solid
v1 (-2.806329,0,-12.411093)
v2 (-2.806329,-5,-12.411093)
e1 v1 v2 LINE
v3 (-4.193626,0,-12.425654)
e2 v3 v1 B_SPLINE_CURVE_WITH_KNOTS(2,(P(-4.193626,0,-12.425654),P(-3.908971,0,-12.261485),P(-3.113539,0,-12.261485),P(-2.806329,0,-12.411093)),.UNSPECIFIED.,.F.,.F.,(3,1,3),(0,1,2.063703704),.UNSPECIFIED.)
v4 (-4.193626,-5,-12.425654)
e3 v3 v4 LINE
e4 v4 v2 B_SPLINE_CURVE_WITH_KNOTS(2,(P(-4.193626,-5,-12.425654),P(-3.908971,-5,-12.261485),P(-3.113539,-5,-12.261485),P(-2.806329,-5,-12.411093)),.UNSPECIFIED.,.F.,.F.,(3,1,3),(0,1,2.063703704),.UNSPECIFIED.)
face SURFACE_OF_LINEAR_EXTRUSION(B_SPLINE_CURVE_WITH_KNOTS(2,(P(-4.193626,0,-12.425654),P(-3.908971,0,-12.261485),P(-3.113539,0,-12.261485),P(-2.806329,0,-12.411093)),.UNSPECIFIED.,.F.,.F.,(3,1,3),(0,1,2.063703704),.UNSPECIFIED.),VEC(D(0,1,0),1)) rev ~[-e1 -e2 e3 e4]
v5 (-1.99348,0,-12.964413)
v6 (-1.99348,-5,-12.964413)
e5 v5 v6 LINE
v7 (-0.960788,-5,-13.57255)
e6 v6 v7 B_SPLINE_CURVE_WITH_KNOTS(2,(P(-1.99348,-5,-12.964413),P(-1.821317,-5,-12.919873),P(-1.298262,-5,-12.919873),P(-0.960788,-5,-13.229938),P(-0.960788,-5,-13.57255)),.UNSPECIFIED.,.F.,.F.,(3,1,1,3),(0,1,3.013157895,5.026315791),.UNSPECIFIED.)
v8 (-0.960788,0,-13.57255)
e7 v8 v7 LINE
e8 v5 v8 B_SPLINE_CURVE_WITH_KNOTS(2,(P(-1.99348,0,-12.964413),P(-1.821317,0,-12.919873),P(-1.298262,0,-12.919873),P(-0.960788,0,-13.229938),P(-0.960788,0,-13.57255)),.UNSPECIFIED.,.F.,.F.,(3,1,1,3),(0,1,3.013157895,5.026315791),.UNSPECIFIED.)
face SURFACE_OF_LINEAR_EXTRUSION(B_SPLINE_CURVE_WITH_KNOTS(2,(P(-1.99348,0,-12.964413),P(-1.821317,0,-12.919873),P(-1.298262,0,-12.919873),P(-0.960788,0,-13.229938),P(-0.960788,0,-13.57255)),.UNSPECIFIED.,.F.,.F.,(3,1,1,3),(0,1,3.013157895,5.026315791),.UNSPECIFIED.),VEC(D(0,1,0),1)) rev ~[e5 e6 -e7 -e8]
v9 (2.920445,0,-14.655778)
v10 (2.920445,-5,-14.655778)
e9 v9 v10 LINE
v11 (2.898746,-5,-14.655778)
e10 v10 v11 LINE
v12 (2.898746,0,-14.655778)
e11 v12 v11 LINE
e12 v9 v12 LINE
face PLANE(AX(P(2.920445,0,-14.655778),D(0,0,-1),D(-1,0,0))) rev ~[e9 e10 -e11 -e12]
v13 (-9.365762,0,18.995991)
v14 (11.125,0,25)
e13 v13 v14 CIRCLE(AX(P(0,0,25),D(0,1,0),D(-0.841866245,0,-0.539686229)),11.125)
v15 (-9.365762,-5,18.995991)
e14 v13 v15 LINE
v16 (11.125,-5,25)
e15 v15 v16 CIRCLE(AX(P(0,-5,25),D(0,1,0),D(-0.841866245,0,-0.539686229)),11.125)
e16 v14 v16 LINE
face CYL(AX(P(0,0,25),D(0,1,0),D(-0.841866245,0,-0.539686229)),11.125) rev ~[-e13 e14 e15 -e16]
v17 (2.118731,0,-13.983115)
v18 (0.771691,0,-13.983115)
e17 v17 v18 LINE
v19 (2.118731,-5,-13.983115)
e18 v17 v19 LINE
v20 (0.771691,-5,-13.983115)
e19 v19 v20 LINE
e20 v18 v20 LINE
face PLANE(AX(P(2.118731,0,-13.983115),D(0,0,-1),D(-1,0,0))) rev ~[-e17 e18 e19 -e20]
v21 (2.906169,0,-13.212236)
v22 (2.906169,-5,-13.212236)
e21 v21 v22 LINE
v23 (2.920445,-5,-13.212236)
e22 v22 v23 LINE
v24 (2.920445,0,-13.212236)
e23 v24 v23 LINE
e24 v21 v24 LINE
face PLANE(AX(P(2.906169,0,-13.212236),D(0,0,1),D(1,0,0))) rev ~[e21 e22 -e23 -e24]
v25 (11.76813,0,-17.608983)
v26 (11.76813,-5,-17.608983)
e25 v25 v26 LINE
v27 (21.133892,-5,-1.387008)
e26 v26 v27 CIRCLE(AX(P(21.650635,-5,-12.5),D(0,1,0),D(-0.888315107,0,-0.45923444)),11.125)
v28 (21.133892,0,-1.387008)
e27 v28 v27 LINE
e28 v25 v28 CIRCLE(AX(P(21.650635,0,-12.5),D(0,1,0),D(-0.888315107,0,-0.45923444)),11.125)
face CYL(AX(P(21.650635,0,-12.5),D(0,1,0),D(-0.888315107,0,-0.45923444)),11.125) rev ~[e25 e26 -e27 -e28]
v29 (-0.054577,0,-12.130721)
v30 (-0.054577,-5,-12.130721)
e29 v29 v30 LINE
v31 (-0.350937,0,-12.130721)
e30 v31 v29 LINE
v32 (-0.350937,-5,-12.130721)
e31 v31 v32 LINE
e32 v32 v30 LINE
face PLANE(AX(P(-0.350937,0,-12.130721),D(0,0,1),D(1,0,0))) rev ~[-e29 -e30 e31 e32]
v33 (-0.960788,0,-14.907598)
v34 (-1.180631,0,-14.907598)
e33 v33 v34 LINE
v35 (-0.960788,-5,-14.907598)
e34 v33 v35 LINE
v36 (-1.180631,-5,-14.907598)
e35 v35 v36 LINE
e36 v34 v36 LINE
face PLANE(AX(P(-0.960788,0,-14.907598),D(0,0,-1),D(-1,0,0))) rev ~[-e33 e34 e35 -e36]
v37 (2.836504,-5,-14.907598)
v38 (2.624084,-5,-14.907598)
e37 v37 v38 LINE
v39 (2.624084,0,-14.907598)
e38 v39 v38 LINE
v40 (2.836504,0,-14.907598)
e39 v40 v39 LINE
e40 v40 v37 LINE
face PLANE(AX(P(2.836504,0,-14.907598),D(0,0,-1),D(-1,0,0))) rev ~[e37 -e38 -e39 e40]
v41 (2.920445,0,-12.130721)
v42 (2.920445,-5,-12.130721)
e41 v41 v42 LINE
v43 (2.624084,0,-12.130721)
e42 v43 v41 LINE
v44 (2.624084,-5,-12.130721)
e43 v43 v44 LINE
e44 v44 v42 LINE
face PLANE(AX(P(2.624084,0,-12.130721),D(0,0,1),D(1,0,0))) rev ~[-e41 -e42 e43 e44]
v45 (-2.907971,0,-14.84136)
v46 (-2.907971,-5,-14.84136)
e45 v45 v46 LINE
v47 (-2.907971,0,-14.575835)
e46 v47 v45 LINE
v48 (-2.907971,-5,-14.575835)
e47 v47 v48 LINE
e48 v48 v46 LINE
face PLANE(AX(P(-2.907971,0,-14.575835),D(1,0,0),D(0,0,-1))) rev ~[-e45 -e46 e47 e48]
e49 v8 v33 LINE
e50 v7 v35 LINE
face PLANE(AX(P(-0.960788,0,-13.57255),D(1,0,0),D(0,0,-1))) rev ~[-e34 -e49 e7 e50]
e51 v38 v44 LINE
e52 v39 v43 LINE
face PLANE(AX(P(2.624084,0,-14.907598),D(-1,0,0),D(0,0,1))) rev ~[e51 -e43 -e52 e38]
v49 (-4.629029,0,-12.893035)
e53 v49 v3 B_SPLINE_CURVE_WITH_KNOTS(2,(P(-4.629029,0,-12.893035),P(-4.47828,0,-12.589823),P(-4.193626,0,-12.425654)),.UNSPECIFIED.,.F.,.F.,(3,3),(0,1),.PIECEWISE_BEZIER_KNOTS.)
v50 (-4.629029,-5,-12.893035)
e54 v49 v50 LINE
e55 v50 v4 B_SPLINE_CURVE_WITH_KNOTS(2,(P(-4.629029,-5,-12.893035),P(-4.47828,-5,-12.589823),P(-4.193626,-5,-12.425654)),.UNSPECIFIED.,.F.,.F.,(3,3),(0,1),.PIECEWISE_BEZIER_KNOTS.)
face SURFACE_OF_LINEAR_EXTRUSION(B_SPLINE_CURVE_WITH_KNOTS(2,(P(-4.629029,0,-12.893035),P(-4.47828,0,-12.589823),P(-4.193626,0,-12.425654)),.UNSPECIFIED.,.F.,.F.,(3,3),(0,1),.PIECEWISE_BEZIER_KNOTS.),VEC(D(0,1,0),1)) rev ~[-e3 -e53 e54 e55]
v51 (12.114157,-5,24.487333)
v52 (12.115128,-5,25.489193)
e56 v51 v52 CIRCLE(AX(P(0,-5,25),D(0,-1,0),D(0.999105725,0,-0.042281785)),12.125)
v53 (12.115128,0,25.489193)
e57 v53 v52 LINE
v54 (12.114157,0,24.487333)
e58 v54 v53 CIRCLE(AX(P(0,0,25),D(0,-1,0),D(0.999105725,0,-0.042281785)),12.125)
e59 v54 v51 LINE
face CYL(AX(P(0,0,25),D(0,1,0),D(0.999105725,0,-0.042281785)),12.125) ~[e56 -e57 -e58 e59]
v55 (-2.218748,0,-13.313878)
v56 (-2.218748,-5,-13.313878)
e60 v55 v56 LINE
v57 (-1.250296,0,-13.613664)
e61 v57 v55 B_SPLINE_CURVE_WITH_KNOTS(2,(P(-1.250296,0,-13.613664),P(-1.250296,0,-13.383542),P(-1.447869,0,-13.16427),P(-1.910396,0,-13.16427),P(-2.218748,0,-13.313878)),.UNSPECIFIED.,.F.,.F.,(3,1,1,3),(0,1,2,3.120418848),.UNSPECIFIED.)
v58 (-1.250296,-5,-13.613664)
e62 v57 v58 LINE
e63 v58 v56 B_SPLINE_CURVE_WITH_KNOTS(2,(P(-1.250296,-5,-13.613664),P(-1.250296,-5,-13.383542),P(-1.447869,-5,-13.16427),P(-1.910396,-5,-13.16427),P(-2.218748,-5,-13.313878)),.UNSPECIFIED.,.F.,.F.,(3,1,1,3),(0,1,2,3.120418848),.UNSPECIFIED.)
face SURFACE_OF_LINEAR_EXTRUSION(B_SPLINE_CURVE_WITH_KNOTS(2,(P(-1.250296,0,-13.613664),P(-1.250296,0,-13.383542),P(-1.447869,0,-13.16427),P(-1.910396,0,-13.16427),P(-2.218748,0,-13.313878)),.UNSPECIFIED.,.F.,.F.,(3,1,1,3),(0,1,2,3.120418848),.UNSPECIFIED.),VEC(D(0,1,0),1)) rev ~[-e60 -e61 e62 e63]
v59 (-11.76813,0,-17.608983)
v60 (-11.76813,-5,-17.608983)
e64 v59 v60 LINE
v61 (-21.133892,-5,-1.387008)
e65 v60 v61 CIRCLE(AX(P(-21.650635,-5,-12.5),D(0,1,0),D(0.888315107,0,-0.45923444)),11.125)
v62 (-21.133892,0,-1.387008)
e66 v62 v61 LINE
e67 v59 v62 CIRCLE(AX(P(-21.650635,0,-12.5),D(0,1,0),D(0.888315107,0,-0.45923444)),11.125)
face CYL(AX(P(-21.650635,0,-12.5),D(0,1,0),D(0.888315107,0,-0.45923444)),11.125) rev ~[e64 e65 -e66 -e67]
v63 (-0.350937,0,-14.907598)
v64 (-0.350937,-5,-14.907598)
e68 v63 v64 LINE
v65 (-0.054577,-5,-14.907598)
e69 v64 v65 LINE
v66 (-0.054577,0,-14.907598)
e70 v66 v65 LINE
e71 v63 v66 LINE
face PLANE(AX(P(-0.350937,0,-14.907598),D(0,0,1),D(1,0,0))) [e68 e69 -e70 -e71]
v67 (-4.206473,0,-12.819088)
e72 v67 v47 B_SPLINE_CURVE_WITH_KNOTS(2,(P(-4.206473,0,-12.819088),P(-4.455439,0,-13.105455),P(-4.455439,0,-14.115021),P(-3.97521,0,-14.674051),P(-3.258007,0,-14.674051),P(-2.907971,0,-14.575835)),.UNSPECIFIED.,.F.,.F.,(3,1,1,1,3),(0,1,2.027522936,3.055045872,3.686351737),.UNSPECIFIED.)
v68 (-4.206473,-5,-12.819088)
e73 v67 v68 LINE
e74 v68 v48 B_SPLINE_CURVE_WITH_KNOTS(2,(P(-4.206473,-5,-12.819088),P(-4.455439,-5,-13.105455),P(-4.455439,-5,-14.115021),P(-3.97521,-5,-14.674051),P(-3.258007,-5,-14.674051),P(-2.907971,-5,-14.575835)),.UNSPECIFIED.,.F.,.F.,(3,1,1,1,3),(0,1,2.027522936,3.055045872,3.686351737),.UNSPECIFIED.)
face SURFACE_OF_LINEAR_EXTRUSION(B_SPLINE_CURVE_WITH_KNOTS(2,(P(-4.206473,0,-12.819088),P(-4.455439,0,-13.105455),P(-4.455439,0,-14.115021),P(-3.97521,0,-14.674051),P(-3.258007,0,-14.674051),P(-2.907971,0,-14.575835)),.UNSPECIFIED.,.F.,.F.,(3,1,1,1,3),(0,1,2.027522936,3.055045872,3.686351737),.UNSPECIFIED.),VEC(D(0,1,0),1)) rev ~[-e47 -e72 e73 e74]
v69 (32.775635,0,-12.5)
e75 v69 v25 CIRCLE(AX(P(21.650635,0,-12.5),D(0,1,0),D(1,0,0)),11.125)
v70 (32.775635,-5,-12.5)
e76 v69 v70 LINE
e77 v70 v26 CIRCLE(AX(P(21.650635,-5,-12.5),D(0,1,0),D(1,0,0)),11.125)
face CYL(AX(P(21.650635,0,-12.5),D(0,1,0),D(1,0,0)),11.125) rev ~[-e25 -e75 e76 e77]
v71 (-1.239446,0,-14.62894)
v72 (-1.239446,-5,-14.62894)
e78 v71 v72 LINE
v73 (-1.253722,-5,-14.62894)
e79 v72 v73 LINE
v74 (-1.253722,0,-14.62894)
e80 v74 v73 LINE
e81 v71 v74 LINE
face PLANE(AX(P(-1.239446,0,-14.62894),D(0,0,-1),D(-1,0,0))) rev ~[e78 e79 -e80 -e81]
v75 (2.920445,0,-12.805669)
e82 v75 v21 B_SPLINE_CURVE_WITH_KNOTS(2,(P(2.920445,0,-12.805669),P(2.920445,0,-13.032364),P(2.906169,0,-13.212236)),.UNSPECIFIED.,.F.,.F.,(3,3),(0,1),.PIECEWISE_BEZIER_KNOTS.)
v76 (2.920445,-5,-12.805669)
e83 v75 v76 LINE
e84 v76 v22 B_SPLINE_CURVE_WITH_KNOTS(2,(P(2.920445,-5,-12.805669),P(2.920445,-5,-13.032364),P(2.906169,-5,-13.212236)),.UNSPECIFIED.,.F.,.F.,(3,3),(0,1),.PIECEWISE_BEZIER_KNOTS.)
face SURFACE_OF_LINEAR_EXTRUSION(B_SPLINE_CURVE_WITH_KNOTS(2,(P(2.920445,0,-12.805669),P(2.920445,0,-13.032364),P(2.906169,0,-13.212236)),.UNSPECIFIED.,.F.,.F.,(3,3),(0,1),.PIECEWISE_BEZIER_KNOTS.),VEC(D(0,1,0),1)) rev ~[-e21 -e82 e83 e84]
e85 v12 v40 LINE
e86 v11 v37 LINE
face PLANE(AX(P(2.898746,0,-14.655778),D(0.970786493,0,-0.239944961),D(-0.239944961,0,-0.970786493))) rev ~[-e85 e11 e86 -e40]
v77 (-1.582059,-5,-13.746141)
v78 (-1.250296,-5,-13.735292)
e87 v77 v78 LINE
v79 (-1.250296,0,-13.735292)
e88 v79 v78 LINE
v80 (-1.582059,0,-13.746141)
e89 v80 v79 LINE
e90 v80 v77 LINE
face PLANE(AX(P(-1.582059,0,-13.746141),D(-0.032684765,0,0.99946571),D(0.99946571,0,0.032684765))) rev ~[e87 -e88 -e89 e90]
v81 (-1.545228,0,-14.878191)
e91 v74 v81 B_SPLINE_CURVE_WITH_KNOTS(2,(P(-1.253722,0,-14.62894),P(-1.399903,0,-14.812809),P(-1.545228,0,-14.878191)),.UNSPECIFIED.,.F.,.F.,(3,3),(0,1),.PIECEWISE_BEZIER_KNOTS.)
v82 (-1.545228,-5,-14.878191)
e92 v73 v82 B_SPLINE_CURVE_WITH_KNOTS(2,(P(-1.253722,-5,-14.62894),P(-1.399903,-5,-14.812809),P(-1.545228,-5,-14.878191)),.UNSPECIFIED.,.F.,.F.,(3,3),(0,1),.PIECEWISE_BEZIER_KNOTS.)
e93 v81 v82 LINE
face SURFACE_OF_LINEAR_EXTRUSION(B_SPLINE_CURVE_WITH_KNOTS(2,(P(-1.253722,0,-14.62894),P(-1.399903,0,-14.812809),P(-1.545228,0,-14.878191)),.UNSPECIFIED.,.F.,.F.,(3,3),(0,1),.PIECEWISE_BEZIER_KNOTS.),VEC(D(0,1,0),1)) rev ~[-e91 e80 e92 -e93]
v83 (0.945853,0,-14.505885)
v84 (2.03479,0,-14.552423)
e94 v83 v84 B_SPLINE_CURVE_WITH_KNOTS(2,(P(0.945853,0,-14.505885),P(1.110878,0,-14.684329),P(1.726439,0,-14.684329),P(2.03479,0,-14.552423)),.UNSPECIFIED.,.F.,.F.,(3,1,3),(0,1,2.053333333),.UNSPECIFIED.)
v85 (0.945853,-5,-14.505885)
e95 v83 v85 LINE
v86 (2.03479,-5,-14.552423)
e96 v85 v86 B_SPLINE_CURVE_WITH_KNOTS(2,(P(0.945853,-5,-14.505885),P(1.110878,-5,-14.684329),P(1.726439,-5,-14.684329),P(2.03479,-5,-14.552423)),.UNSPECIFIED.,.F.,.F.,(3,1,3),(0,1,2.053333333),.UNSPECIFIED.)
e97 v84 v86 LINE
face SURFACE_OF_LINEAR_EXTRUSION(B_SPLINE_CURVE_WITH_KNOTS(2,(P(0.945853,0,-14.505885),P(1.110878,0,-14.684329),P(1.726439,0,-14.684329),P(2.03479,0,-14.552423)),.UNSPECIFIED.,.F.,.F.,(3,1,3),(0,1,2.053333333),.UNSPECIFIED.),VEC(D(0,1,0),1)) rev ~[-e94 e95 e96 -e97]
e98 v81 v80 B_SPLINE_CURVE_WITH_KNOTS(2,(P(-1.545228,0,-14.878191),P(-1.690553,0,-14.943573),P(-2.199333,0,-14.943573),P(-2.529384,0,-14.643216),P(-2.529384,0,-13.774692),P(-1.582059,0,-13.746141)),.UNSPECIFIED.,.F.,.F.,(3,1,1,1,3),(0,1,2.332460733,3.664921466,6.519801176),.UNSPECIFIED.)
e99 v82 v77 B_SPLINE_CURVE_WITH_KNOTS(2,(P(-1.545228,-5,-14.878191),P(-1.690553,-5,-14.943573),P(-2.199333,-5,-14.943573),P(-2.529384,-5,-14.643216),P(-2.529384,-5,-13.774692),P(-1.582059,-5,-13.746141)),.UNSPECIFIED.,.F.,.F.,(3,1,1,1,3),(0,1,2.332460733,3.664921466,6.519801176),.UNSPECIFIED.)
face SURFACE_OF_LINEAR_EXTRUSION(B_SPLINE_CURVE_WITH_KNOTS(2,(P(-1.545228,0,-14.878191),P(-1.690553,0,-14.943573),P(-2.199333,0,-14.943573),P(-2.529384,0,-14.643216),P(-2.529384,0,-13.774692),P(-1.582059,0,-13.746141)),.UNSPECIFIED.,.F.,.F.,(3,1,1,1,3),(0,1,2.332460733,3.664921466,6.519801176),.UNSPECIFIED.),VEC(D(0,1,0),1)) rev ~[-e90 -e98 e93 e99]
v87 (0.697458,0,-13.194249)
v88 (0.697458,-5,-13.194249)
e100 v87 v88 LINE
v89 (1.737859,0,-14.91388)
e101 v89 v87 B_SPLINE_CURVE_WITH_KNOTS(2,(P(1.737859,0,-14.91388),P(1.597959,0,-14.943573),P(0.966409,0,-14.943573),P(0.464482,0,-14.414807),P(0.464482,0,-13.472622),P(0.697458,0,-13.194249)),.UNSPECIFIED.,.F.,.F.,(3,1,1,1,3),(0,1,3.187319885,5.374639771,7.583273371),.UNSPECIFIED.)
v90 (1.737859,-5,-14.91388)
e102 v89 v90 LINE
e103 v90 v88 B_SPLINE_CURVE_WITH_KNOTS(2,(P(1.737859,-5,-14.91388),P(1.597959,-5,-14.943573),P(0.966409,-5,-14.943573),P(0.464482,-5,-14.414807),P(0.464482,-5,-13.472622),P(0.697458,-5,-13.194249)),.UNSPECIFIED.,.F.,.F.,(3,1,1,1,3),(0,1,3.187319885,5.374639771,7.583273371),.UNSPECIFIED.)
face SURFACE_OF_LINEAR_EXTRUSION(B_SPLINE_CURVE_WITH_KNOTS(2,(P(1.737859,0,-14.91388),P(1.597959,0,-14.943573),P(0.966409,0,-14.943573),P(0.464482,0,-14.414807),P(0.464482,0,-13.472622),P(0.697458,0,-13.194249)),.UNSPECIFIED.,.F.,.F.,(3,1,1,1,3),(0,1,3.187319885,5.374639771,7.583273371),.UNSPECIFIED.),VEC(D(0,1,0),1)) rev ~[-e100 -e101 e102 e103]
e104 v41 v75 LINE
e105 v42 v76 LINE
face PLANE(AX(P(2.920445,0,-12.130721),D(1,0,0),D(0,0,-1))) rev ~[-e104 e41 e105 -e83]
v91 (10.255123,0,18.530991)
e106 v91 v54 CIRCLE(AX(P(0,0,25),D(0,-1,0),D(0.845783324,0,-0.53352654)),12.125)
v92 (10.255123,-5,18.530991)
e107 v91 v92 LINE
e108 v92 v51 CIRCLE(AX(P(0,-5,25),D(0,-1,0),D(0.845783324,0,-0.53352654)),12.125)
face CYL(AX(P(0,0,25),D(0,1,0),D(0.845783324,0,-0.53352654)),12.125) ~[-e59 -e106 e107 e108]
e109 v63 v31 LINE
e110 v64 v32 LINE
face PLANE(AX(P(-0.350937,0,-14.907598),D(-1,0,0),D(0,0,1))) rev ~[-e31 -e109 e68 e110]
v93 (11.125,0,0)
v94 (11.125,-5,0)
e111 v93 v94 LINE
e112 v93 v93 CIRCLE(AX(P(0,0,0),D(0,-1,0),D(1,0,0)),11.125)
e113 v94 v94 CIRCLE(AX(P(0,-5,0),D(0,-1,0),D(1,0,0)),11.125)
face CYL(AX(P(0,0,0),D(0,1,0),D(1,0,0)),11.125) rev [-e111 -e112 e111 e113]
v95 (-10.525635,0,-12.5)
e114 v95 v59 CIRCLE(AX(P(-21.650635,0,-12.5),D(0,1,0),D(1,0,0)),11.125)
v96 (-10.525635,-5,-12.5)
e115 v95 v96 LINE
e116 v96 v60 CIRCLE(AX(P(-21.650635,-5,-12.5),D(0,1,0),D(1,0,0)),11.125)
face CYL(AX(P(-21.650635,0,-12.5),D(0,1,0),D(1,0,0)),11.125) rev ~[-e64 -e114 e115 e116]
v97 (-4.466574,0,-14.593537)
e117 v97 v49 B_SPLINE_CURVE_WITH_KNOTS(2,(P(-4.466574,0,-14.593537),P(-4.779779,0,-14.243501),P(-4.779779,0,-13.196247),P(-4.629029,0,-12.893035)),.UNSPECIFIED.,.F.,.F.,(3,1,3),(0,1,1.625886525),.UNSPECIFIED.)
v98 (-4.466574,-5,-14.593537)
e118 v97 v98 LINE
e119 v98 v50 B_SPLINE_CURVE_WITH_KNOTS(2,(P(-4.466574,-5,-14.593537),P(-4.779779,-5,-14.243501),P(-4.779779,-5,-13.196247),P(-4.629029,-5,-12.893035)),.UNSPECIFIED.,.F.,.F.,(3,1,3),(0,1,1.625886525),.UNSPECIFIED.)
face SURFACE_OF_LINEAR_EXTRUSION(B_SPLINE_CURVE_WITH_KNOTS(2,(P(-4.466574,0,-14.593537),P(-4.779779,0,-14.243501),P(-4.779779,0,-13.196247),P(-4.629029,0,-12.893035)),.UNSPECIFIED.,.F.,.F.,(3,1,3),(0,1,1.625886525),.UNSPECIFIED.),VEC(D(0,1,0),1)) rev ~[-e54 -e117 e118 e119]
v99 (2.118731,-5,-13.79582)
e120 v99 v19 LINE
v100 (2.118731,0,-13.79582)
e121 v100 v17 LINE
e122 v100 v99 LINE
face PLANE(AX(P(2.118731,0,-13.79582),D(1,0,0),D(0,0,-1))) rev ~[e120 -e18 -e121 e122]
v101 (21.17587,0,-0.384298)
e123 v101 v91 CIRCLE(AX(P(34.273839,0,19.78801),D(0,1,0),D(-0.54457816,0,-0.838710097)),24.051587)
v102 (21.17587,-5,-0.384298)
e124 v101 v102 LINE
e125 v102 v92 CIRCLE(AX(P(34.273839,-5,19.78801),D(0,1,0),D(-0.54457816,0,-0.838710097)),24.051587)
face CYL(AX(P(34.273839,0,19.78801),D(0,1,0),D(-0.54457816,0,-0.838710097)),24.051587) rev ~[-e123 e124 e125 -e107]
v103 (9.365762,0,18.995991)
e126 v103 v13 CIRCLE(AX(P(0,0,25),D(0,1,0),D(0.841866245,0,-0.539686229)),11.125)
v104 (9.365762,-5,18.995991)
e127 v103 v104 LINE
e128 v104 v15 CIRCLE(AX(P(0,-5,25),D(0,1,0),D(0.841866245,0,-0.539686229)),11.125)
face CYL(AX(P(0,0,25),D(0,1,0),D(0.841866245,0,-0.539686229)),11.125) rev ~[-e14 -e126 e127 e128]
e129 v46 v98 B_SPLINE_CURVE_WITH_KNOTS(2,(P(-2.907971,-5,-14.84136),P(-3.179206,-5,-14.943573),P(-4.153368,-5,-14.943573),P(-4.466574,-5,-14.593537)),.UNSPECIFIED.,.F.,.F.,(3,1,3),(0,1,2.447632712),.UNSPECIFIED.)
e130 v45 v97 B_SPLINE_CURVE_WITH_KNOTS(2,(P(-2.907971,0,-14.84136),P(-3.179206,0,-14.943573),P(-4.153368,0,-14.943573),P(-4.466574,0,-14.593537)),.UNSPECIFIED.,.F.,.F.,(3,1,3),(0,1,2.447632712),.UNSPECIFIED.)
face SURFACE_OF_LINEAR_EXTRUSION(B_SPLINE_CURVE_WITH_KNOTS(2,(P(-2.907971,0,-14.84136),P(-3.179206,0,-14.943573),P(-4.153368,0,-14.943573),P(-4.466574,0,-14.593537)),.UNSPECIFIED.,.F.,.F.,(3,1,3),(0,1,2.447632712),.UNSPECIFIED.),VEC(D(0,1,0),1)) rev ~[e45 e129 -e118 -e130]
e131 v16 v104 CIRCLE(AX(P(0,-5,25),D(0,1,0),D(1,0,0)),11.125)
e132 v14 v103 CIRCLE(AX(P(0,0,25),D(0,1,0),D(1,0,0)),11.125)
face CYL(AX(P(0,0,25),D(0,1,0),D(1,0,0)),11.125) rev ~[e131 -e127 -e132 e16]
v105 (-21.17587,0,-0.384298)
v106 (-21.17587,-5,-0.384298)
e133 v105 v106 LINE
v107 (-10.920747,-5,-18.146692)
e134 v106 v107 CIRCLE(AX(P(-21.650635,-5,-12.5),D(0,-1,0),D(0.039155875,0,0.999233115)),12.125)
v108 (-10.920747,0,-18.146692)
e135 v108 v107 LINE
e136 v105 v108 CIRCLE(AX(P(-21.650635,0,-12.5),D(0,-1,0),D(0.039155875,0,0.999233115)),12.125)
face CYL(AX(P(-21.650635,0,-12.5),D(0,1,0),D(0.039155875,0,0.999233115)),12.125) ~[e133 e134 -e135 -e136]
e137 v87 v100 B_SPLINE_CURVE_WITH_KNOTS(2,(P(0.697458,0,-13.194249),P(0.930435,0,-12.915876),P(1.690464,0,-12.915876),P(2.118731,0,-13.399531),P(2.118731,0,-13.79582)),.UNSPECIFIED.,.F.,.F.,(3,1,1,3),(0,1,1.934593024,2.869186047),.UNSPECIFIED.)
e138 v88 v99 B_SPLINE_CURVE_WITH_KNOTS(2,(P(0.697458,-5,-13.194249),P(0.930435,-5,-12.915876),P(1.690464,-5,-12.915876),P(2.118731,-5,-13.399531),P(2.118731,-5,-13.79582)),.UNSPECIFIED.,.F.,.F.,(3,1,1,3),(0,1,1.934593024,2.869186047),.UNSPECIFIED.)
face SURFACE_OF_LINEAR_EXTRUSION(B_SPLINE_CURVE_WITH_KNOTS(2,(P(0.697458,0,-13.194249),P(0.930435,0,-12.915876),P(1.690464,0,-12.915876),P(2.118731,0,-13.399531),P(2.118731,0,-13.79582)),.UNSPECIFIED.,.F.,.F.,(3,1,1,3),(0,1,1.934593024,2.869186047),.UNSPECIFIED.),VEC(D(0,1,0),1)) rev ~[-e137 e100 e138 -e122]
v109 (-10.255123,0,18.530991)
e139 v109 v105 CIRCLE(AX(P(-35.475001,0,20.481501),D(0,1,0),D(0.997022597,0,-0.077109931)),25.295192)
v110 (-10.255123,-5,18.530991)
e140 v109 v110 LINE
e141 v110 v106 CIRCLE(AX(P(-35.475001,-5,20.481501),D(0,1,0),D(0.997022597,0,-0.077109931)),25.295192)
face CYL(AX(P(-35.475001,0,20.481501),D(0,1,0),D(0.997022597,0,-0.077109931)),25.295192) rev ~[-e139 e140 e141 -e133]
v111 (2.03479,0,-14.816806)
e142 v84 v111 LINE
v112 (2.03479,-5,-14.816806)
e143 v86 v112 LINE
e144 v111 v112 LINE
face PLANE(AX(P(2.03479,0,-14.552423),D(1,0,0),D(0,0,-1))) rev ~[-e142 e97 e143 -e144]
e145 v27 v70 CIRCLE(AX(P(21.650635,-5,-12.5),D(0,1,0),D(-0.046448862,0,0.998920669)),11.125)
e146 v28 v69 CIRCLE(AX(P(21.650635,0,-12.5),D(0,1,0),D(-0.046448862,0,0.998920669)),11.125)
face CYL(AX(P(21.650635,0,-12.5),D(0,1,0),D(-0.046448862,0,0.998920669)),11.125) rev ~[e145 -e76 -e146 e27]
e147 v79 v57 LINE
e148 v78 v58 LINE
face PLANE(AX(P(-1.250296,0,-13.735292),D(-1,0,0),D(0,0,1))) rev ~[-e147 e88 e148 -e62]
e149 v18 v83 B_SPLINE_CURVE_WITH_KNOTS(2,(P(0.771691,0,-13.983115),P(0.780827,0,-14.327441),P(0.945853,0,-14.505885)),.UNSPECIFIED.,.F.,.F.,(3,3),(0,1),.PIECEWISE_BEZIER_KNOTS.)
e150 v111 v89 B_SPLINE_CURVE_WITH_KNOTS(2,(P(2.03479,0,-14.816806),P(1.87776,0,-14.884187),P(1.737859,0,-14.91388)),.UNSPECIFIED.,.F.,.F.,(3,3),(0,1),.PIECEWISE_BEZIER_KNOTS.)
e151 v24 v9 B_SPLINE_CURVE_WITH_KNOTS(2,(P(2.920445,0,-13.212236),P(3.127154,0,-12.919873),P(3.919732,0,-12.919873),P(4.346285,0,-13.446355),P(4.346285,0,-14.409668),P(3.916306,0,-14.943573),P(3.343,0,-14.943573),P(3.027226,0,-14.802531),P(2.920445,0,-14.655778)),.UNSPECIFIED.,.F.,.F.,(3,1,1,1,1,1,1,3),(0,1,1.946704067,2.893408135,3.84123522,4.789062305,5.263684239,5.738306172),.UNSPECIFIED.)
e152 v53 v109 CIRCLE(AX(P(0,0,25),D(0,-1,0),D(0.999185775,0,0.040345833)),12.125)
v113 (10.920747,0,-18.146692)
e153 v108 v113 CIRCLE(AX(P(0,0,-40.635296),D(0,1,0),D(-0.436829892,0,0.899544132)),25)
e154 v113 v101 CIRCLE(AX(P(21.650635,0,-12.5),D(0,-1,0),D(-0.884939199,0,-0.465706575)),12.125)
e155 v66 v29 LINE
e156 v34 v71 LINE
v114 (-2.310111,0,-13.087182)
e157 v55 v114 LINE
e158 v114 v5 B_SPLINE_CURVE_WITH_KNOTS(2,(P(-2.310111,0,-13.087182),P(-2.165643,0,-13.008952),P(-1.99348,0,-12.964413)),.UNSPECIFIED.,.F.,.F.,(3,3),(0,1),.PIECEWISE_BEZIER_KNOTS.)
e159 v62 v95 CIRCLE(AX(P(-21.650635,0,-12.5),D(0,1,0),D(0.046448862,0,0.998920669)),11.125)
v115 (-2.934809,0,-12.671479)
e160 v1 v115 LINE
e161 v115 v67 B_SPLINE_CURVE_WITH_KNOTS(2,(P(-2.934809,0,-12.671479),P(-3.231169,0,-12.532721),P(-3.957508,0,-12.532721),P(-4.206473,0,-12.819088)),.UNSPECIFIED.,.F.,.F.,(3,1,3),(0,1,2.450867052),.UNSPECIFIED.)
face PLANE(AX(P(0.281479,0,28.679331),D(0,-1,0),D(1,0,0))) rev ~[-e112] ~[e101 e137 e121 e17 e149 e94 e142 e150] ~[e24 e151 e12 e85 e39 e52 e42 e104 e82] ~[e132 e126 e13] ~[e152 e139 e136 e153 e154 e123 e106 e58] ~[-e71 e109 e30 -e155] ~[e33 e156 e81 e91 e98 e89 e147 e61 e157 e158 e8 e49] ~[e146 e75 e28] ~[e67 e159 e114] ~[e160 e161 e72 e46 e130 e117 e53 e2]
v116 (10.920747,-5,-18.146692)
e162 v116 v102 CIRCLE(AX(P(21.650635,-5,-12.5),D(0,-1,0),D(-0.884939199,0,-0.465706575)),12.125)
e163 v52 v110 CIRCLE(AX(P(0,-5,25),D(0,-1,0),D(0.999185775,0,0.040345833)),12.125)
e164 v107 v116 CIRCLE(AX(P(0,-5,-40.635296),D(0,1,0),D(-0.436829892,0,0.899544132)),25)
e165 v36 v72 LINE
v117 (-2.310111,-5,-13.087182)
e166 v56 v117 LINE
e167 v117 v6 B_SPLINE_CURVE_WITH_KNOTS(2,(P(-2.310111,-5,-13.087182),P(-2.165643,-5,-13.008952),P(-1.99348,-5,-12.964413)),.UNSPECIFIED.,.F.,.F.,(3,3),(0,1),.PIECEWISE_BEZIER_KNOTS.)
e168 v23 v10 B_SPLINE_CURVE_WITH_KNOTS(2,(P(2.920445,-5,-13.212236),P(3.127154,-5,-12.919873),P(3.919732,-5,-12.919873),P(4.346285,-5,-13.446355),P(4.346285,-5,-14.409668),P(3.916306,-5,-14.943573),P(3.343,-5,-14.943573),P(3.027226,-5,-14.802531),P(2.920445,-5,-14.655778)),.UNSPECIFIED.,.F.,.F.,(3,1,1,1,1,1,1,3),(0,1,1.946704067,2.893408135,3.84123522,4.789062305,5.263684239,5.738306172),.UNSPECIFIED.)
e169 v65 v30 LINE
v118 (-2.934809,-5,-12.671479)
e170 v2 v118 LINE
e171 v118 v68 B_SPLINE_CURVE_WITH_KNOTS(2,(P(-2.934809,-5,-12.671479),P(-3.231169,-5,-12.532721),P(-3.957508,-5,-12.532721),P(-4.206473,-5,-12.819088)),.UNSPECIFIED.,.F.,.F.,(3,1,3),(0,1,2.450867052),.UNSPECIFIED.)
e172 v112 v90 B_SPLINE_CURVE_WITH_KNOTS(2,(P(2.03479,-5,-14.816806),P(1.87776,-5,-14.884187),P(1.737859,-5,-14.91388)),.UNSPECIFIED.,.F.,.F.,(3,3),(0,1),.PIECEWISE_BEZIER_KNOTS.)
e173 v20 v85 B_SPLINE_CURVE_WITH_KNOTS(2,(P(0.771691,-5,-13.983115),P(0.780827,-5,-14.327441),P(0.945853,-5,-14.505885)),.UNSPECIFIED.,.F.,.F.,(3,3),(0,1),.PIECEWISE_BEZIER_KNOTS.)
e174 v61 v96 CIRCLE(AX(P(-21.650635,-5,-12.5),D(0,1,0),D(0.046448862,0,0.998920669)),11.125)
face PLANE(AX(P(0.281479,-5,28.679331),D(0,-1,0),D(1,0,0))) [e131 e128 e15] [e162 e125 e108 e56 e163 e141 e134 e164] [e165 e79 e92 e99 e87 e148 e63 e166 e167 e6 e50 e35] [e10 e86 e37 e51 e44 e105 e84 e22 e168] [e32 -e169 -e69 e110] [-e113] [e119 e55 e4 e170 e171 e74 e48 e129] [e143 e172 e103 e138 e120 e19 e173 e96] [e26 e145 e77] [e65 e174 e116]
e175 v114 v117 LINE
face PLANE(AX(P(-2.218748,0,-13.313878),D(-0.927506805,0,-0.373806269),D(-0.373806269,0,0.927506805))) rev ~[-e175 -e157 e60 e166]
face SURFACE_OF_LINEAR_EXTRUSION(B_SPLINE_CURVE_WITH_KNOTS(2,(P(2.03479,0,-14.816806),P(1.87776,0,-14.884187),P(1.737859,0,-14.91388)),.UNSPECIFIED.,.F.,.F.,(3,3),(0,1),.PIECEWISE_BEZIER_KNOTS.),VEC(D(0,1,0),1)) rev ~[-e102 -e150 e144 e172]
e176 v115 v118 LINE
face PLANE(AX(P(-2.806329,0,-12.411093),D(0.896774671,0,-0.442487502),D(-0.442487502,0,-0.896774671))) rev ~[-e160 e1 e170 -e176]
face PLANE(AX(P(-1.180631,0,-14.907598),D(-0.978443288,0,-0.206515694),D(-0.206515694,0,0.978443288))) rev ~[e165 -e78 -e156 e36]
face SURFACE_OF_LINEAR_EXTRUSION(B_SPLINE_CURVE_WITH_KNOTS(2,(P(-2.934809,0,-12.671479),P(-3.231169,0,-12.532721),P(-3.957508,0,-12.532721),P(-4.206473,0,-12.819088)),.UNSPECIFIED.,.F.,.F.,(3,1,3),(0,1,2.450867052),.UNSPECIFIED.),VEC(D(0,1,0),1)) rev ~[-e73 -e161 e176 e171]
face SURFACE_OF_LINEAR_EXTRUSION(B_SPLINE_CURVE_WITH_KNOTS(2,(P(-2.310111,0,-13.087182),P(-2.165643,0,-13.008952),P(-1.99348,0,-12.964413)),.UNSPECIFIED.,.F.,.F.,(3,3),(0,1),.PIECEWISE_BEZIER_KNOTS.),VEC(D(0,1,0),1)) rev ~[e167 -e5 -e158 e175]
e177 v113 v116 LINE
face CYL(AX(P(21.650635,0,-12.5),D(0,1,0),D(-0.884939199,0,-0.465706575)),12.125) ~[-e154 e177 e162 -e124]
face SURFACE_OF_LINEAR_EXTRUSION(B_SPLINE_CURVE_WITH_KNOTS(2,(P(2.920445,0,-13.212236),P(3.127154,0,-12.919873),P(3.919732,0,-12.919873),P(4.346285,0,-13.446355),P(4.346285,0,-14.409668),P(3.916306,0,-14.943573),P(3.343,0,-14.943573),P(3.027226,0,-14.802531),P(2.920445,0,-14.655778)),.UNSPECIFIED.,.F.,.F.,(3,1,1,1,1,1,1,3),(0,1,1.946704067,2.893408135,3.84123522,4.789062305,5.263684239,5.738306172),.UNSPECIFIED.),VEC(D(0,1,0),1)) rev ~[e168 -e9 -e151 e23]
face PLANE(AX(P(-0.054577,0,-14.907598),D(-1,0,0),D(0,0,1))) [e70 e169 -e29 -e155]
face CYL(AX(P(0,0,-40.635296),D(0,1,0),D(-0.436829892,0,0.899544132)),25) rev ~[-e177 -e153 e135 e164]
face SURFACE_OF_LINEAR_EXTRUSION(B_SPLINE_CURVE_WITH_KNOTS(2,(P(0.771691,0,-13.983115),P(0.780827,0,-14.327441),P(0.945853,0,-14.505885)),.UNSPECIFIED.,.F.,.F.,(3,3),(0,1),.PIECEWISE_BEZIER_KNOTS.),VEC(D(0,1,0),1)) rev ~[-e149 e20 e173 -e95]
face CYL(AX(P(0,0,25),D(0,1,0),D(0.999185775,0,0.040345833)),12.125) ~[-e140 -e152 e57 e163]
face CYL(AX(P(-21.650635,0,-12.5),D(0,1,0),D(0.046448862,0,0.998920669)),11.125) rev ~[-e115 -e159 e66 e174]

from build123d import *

# Parameters (mm, degrees)
F0_W     = 0.2963601055
F0_H     = 2.7768770578
F0_R     = 11.125
F1_DEPTH = 5


with BuildPart() as f1:
    # F0 (on Front) → F1 (new body)
    with BuildSketch(Plane.XZ):
        with BuildLine():
            ThreePointArc((-9.3657619737, 18.9959907018), (-3.1282201843, 35.6761352314), (11.125, 25))
            ThreePointArc((11.125, 25), (10.6761352314, 21.8717798157), (9.3657619737, 18.9959907018))
            ThreePointArc((9.3657619737, 18.9959907018), (9.8131970378, 18.7687592554), (10.2551228028, 18.5309907018))
            ThreePointArc((10.2551228028, 18.5309907018), (11.5743541209, 21.3875283137), (12.1141569215, 24.4873333616))
            ThreePointArc((12.1141569215, 24.4873333616), (12.1112920003, 24.9882665385), (12.1151275268, 25.4891932239))
            ThreePointArc((12.1151275268, 25.4891932239), (-3.6012567221, 36.5778484626), (-10.2551228028, 18.5309907018))
            ThreePointArc((-10.2551228028, 18.5309907018), (-9.8131970378, 18.7687592554), (-9.3657619737, 18.9959907018))
        make_face()
        with BuildLine():
            ThreePointArc((9.3657619737, 18.9959907018), (0, 13.875), (-9.3657619737, 18.9959907018))
            ThreePointArc((-9.3657619737, 18.9959907018), (-9.8131970378, 18.7687592554), (-10.2551228028, 18.5309907018))
            ThreePointArc((-10.2551228028, 18.5309907018), (-13.5687219352, 7.8339052618), (-21.1758701064, -0.3842984848))
            ThreePointArc((-21.1758701064, -0.3842984848), (-21.1608208316, -0.8859017006), (-21.1338915046, -1.3870075559))
            ThreePointArc((-21.1338915046, -1.3870075559), (-13.6034493307, -4.8183057676), (-10.5256350946, -12.5))
            ThreePointArc((-10.5256350946, -12.5), (-10.8407206779, -15.1289494674), (-11.768129531, -17.6089831459))
            ThreePointArc((-11.768129531, -17.6089831459), (-11.3476237938, -17.8828575548), (-10.9207473037, -18.146692217))
            ThreePointArc((-10.9207473037, -18.146692217), (0, -15.6352955158), (10.9207473037, -18.146692217))
            ThreePointArc((10.9207473037, -18.146692217), (11.3476237938, -17.8828575548), (11.768129531, -17.6089831459))
            ThreePointArc((11.768129531, -17.6089831459), (12.0161024775, -6.9375), (21.1338915046, -1.3870075559))
            ThreePointArc((21.1338915046, -1.3870075559), (21.1608208316, -0.8859017006), (21.1758701064, -0.3842984848))
            ThreePointArc((21.1758701064, -0.3842984848), (13.4445538567, 7.7622167883), (10.2551228028, 18.5309907018))
            ThreePointArc((10.2551228028, 18.5309907018), (9.8131970378, 18.7687592554), (9.3657619737, 18.9959907018))
        make_face()
        with BuildLine():
            add(Edge.make_bspline(
                [(-2.9348088368, -12.6714787014), (-3.2311689423, -12.5327205017), (-3.5275290478, -12.5327205017)],
                knots=[0, 0, 0, 1, 1, 1], degree=2))
            add(Edge.make_bspline(
                [(-3.5275290478, -12.5327205017), (-3.9575081604, -12.5327205017), (-4.2064734898, -12.8190877328)],
                knots=[0, 0, 0, 1, 1, 1], degree=2))
            add(Edge.make_bspline(
                [(-4.2064734898, -12.8190877328), (-4.4554388193, -13.1054549638), (-4.4554388193, -13.6033856227)],
                knots=[0, 0, 0, 1, 1, 1], degree=2))
            add(Edge.make_bspline(
                [(-4.4554388193, -13.6033856227), (-4.4554388193, -14.1150207952), (-4.2153243215, -14.3945357695)],
                knots=[0, 0, 0, 1, 1, 1], degree=2))
            add(Edge.make_bspline(
                [(-4.2153243215, -14.3945357695), (-3.9752098237, -14.6740507438), (-3.5309551762, -14.6740507438)],
                knots=[0, 0, 0, 1, 1, 1], degree=2))
            add(Edge.make_bspline(
                [(-3.5309551762, -14.6740507438), (-3.258006948, -14.6740507438), (-2.9079708311, -14.5758350633)],
                knots=[0, 0, 0, 1, 1, 1], degree=2))
            Line((-2.9079708311, -14.5758350633), (-2.9079708311, -14.8413600133))
            add(Edge.make_bspline(
                [(-2.9079708311, -14.8413600133), (-3.1792059951, -14.9435728435), (-3.5772079094, -14.9435728435)],
                knots=[0, 0, 0, 1, 1, 1], degree=2))
            add(Edge.make_bspline(
                [(-3.5772079094, -14.9435728435), (-4.1533684998, -14.9435728435), (-4.4665737366, -14.5935367267)],
                knots=[0, 0, 0, 1, 1, 1], degree=2))
            add(Edge.make_bspline(
                [(-4.4665737366, -14.5935367267), (-4.7797789733, -14.2435006098), (-4.7797789733, -13.599388473)],
                knots=[0, 0, 0, 1, 1, 1], degree=2))
            add(Edge.make_bspline(
                [(-4.7797789733, -13.599388473), (-4.7797789733, -13.1962473661), (-4.6290293243, -12.8930350038)],
                knots=[0, 0, 0, 1, 1, 1], degree=2))
            add(Edge.make_bspline(
                [(-4.6290293243, -12.8930350038), (-4.4782796752, -12.5898226415), (-4.1936255084, -12.4256539896)],
                knots=[0, 0, 0, 1, 1, 1], degree=2))
            add(Edge.make_bspline(
                [(-4.1936255084, -12.4256539896), (-3.9089713415, -12.2614853378), (-3.523531898, -12.2614853378)],
                knots=[0, 0, 0, 1, 1, 1], degree=2))
            add(Edge.make_bspline(
                [(-3.523531898, -12.2614853378), (-3.1135385343, -12.2614853378), (-2.8063290223, -12.411092944)],
                knots=[0, 0, 0, 1, 1, 1], degree=2))
            Line((-2.8063290223, -12.411092944), (-2.9348088368, -12.6714787014))
        make_face(mode=Mode.SUBTRACT)
        with BuildLine():
            Line((-0.9607878643, -14.9075984955), (-1.1806311025, -14.9075984955))
            Line((-1.1806311025, -14.9075984955), (-1.2394463065, -14.6289400533))
            Line((-1.2394463065, -14.6289400533), (-1.2537218414, -14.6289400533))
            add(Edge.make_bspline(
                [(-1.2537218414, -14.6289400533), (-1.3999033193, -14.8128089434), (-1.5452282651, -14.8781908935)],
                knots=[0, 0, 0, 1, 1, 1], degree=2))
            add(Edge.make_bspline(
                [(-1.5452282651, -14.8781908935), (-1.6905532108, -14.9435728435), (-1.9086833848, -14.9435728435)],
                knots=[0, 0, 0, 1, 1, 1], degree=2))
            add(Edge.make_bspline(
                [(-1.9086833848, -14.9435728435), (-2.1993332763, -14.9435728435), (-2.3643584603, -14.7933942159)],
                knots=[0, 0, 0, 1, 1, 1], degree=2))
            add(Edge.make_bspline(
                [(-2.3643584603, -14.7933942159), (-2.5293836443, -14.6432155883), (-2.5293836443, -14.3668412317)],
                knots=[0, 0, 0, 1, 1, 1], degree=2))
            add(Edge.make_bspline(
                [(-2.5293836443, -14.3668412317), (-2.5293836443, -13.7746920421), (-1.5820591452, -13.7461409722)],
                knots=[0, 0, 0, 1, 1, 1], degree=2))
            Line((-1.5820591452, -13.7461409722), (-1.2502957131, -13.7352915657))
            Line((-1.2502957131, -13.7352915657), (-1.2502957131, -13.6136640079))
            add(Edge.make_bspline(
                [(-1.2502957131, -13.6136640079), (-1.2502957131, -13.3835423846), (-1.3490824149, -13.2739062762)],
                knots=[0, 0, 0, 1, 1, 1], degree=2))
            add(Edge.make_bspline(
                [(-1.3490824149, -13.2739062762), (-1.4478691167, -13.1642701678), (-1.6659992907, -13.1642701678)],
                knots=[0, 0, 0, 1, 1, 1], degree=2))
            add(Edge.make_bspline(
                [(-1.6659992907, -13.1642701678), (-1.910396449, -13.1642701678), (-2.2187480038, -13.313877774)],
                knots=[0, 0, 0, 1, 1, 1], degree=2))
            Line((-2.2187480038, -13.313877774), (-2.3101114275, -13.0871822791))
            add(Edge.make_bspline(
                [(-2.3101114275, -13.0871822791), (-2.1656430138, -13.0089523476), (-1.9934800624, -12.9644126785)],
                knots=[0, 0, 0, 1, 1, 1], degree=2))
            add(Edge.make_bspline(
                [(-1.9934800624, -12.9644126785), (-1.8213171109, -12.9198730095), (-1.647726606, -12.9198730095)],
                knots=[0, 0, 0, 1, 1, 1], degree=2))
            add(Edge.make_bspline(
                [(-1.647726606, -12.9198730095), (-1.2982615105, -12.9198730095), (-1.1295246874, -13.074905319)],
                knots=[0, 0, 0, 1, 1, 1], degree=2))
            add(Edge.make_bspline(
                [(-1.1295246874, -13.074905319), (-0.9607878643, -13.2299376285), (-0.9607878643, -13.5725504673)],
                knots=[0, 0, 0, 1, 1, 1], degree=2))
            Line((-0.9607878643, -13.5725504673), (-0.9607878643, -14.9075984955))
        make_face(mode=Mode.SUBTRACT)
        with Locations((-0.2027569587, -13.5191599666)):
            Rectangle(F0_W, F0_H, mode=Mode.SUBTRACT)
        with BuildLine():
            add(Edge.make_bspline(
                [(1.737859262, -14.9138797309), (1.5979590195, -14.9435728435), (1.3998145945, -14.9435728435)],
                knots=[0, 0, 0, 1, 1, 1], degree=2))
            add(Edge.make_bspline(
                [(1.3998145945, -14.9435728435), (0.9664093535, -14.9435728435), (0.7154454491, -14.6791899363)],
                knots=[0, 0, 0, 1, 1, 1], degree=2))
            add(Edge.make_bspline(
                [(0.7154454491, -14.6791899363), (0.4644815447, -14.4148070291), (0.4644815447, -13.9459984615)],
                knots=[0, 0, 0, 1, 1, 1], degree=2))
            add(Edge.make_bspline(
                [(0.4644815447, -13.9459984615), (0.4644815447, -13.4726217226), (0.6974582751, -13.1942487912)],
                knots=[0, 0, 0, 1, 1, 1], degree=2))
            add(Edge.make_bspline(
                [(0.6974582751, -13.1942487912), (0.9304350054, -12.9158758597), (1.3232977271, -12.9158758597)],
                knots=[0, 0, 0, 1, 1, 1], degree=2))
            add(Edge.make_bspline(
                [(1.3232977271, -12.9158758597), (1.690464486, -12.9158758597), (1.9045975102, -13.1577034217)],
                knots=[0, 0, 0, 1, 1, 1], degree=2))
            add(Edge.make_bspline(
                [(1.9045975102, -13.1577034217), (2.1187305344, -13.3995309837), (2.1187305344, -13.7958198338)],
                knots=[0, 0, 0, 1, 1, 1], degree=2))
            Line((2.1187305344, -13.7958198338), (2.1187305344, -13.9831148523))
            Line((2.1187305344, -13.9831148523), (0.7716910568, -13.9831148523))
            add(Edge.make_bspline(
                [(0.7716910568, -13.9831148523), (0.7808273992, -14.3274407552), (0.9458525831, -14.5058849421)],
                knots=[0, 0, 0, 1, 1, 1], degree=2))
            add(Edge.make_bspline(
                [(0.9458525831, -14.5058849421), (1.1108777671, -14.6843291289), (1.410664001, -14.6843291289)],
                knots=[0, 0, 0, 1, 1, 1], degree=2))
            add(Edge.make_bspline(
                [(1.410664001, -14.6843291289), (1.726438834, -14.6843291289), (2.0347903889, -14.552423186)],
                knots=[0, 0, 0, 1, 1, 1], degree=2))
            Line((2.0347903889, -14.552423186), (2.0347903889, -14.8168060932))
            add(Edge.make_bspline(
                [(2.0347903889, -14.8168060932), (1.8777595045, -14.8841866182), (1.737859262, -14.9138797309)],
                knots=[0, 0, 0, 1, 1, 1], degree=2))
        make_face(mode=Mode.SUBTRACT)
        with BuildLine():
            add(Edge.make_bspline(
                [(2.920444577, -13.2122359652), (3.127154323, -12.9198730095), (3.5342925797, -12.9198730095)],
                knots=[0, 0, 0, 1, 1, 1], degree=2))
            add(Edge.make_bspline(
                [(3.5342925797, -12.9198730095), (3.9197320233, -12.9198730095), (4.1330085154, -13.1831138739)],
                knots=[0, 0, 0, 1, 1, 1], degree=2))
            add(Edge.make_bspline(
                [(4.1330085154, -13.1831138739), (4.3462850075, -13.4463547383), (4.3462850075, -13.9277257767)],
                knots=[0, 0, 0, 1, 1, 1], degree=2))
            add(Edge.make_bspline(
                [(4.3462850075, -13.9277257767), (4.3462850075, -14.4096678365), (4.1312954512, -14.67662034)],
                knots=[0, 0, 0, 1, 1, 1], degree=2))
            add(Edge.make_bspline(
                [(4.1312954512, -14.67662034), (3.9163058949, -14.9435728435), (3.5342925797, -14.9435728435)],
                knots=[0, 0, 0, 1, 1, 1], degree=2))
            add(Edge.make_bspline(
                [(3.5342925797, -14.9435728435), (3.3430004114, -14.9435728435), (3.1851129949, -14.8730517009)],
                knots=[0, 0, 0, 1, 1, 1], degree=2))
            add(Edge.make_bspline(
                [(3.1851129949, -14.8730517009), (3.0272255784, -14.8025305583), (2.920444577, -14.655778059)],
                knots=[0, 0, 0, 1, 1, 1], degree=2))
            Line((2.920444577, -14.655778059), (2.8987457639, -14.655778059))
            Line((2.8987457639, -14.655778059), (2.8365044315, -14.9075984955))
            Line((2.8365044315, -14.9075984955), (2.6240844715, -14.9075984955))
            Line((2.6240844715, -14.9075984955), (2.6240844715, -12.1307214376))
            Line((2.6240844715, -12.1307214376), (2.920444577, -12.1307214376))
            Line((2.920444577, -12.1307214376), (2.920444577, -12.8056687299))
            add(Edge.make_bspline(
                [(2.920444577, -12.8056687299), (2.920444577, -13.0323642249), (2.906169042, -13.2122359652)],
                knots=[0, 0, 0, 1, 1, 1], degree=2))
            Line((2.906169042, -13.2122359652), (2.920444577, -13.2122359652))
        make_face(mode=Mode.SUBTRACT)
        Circle(F0_R, mode=Mode.SUBTRACT)
        with BuildLine():
            ThreePointArc((12.1141569215, 24.4873333616), (12.1249943099, 24.9882532637), (12.1151275268, 25.4891932239))
            ThreePointArc((12.1151275268, 25.4891932239), (12.1112920003, 24.9882665385), (12.1141569215, 24.4873333616))
        make_face()
        with BuildLine():
            ThreePointArc((-21.1338915046, -1.3870075559), (-21.1608208316, -0.8859017006), (-21.1758701064, -0.3842984848))
            ThreePointArc((-21.1758701064, -0.3842984848), (-32.1511931155, -18.5625), (-10.9207473037, -18.146692217))
            ThreePointArc((-10.9207473037, -18.146692217), (-11.3476237938, -17.8828575548), (-11.768129531, -17.6089831459))
            ThreePointArc((-11.768129531, -17.6089831459), (-31.2851677117, -18.0625), (-21.1338915046, -1.3870075559))
        make_face()
        with BuildLine():
            ThreePointArc((10.9207473037, -18.146692217), (32.1511931155, -18.5625), (21.1758701064, -0.3842984848))
            ThreePointArc((21.1758701064, -0.3842984848), (21.1608208316, -0.8859017006), (21.1338915046, -1.3870075559))
            ThreePointArc((21.1338915046, -1.3870075559), (29.3323293271, -4.4528142361), (32.7756350946, -12.5))
            ThreePointArc((32.7756350946, -12.5), (24.279584562, -23.3099144168), (11.768129531, -17.6089831459))
            ThreePointArc((11.768129531, -17.6089831459), (11.3476237938, -17.8828575548), (10.9207473037, -18.146692217))
        make_face()
    extrude(amount=F1_DEPTH)


solid = f1.part
